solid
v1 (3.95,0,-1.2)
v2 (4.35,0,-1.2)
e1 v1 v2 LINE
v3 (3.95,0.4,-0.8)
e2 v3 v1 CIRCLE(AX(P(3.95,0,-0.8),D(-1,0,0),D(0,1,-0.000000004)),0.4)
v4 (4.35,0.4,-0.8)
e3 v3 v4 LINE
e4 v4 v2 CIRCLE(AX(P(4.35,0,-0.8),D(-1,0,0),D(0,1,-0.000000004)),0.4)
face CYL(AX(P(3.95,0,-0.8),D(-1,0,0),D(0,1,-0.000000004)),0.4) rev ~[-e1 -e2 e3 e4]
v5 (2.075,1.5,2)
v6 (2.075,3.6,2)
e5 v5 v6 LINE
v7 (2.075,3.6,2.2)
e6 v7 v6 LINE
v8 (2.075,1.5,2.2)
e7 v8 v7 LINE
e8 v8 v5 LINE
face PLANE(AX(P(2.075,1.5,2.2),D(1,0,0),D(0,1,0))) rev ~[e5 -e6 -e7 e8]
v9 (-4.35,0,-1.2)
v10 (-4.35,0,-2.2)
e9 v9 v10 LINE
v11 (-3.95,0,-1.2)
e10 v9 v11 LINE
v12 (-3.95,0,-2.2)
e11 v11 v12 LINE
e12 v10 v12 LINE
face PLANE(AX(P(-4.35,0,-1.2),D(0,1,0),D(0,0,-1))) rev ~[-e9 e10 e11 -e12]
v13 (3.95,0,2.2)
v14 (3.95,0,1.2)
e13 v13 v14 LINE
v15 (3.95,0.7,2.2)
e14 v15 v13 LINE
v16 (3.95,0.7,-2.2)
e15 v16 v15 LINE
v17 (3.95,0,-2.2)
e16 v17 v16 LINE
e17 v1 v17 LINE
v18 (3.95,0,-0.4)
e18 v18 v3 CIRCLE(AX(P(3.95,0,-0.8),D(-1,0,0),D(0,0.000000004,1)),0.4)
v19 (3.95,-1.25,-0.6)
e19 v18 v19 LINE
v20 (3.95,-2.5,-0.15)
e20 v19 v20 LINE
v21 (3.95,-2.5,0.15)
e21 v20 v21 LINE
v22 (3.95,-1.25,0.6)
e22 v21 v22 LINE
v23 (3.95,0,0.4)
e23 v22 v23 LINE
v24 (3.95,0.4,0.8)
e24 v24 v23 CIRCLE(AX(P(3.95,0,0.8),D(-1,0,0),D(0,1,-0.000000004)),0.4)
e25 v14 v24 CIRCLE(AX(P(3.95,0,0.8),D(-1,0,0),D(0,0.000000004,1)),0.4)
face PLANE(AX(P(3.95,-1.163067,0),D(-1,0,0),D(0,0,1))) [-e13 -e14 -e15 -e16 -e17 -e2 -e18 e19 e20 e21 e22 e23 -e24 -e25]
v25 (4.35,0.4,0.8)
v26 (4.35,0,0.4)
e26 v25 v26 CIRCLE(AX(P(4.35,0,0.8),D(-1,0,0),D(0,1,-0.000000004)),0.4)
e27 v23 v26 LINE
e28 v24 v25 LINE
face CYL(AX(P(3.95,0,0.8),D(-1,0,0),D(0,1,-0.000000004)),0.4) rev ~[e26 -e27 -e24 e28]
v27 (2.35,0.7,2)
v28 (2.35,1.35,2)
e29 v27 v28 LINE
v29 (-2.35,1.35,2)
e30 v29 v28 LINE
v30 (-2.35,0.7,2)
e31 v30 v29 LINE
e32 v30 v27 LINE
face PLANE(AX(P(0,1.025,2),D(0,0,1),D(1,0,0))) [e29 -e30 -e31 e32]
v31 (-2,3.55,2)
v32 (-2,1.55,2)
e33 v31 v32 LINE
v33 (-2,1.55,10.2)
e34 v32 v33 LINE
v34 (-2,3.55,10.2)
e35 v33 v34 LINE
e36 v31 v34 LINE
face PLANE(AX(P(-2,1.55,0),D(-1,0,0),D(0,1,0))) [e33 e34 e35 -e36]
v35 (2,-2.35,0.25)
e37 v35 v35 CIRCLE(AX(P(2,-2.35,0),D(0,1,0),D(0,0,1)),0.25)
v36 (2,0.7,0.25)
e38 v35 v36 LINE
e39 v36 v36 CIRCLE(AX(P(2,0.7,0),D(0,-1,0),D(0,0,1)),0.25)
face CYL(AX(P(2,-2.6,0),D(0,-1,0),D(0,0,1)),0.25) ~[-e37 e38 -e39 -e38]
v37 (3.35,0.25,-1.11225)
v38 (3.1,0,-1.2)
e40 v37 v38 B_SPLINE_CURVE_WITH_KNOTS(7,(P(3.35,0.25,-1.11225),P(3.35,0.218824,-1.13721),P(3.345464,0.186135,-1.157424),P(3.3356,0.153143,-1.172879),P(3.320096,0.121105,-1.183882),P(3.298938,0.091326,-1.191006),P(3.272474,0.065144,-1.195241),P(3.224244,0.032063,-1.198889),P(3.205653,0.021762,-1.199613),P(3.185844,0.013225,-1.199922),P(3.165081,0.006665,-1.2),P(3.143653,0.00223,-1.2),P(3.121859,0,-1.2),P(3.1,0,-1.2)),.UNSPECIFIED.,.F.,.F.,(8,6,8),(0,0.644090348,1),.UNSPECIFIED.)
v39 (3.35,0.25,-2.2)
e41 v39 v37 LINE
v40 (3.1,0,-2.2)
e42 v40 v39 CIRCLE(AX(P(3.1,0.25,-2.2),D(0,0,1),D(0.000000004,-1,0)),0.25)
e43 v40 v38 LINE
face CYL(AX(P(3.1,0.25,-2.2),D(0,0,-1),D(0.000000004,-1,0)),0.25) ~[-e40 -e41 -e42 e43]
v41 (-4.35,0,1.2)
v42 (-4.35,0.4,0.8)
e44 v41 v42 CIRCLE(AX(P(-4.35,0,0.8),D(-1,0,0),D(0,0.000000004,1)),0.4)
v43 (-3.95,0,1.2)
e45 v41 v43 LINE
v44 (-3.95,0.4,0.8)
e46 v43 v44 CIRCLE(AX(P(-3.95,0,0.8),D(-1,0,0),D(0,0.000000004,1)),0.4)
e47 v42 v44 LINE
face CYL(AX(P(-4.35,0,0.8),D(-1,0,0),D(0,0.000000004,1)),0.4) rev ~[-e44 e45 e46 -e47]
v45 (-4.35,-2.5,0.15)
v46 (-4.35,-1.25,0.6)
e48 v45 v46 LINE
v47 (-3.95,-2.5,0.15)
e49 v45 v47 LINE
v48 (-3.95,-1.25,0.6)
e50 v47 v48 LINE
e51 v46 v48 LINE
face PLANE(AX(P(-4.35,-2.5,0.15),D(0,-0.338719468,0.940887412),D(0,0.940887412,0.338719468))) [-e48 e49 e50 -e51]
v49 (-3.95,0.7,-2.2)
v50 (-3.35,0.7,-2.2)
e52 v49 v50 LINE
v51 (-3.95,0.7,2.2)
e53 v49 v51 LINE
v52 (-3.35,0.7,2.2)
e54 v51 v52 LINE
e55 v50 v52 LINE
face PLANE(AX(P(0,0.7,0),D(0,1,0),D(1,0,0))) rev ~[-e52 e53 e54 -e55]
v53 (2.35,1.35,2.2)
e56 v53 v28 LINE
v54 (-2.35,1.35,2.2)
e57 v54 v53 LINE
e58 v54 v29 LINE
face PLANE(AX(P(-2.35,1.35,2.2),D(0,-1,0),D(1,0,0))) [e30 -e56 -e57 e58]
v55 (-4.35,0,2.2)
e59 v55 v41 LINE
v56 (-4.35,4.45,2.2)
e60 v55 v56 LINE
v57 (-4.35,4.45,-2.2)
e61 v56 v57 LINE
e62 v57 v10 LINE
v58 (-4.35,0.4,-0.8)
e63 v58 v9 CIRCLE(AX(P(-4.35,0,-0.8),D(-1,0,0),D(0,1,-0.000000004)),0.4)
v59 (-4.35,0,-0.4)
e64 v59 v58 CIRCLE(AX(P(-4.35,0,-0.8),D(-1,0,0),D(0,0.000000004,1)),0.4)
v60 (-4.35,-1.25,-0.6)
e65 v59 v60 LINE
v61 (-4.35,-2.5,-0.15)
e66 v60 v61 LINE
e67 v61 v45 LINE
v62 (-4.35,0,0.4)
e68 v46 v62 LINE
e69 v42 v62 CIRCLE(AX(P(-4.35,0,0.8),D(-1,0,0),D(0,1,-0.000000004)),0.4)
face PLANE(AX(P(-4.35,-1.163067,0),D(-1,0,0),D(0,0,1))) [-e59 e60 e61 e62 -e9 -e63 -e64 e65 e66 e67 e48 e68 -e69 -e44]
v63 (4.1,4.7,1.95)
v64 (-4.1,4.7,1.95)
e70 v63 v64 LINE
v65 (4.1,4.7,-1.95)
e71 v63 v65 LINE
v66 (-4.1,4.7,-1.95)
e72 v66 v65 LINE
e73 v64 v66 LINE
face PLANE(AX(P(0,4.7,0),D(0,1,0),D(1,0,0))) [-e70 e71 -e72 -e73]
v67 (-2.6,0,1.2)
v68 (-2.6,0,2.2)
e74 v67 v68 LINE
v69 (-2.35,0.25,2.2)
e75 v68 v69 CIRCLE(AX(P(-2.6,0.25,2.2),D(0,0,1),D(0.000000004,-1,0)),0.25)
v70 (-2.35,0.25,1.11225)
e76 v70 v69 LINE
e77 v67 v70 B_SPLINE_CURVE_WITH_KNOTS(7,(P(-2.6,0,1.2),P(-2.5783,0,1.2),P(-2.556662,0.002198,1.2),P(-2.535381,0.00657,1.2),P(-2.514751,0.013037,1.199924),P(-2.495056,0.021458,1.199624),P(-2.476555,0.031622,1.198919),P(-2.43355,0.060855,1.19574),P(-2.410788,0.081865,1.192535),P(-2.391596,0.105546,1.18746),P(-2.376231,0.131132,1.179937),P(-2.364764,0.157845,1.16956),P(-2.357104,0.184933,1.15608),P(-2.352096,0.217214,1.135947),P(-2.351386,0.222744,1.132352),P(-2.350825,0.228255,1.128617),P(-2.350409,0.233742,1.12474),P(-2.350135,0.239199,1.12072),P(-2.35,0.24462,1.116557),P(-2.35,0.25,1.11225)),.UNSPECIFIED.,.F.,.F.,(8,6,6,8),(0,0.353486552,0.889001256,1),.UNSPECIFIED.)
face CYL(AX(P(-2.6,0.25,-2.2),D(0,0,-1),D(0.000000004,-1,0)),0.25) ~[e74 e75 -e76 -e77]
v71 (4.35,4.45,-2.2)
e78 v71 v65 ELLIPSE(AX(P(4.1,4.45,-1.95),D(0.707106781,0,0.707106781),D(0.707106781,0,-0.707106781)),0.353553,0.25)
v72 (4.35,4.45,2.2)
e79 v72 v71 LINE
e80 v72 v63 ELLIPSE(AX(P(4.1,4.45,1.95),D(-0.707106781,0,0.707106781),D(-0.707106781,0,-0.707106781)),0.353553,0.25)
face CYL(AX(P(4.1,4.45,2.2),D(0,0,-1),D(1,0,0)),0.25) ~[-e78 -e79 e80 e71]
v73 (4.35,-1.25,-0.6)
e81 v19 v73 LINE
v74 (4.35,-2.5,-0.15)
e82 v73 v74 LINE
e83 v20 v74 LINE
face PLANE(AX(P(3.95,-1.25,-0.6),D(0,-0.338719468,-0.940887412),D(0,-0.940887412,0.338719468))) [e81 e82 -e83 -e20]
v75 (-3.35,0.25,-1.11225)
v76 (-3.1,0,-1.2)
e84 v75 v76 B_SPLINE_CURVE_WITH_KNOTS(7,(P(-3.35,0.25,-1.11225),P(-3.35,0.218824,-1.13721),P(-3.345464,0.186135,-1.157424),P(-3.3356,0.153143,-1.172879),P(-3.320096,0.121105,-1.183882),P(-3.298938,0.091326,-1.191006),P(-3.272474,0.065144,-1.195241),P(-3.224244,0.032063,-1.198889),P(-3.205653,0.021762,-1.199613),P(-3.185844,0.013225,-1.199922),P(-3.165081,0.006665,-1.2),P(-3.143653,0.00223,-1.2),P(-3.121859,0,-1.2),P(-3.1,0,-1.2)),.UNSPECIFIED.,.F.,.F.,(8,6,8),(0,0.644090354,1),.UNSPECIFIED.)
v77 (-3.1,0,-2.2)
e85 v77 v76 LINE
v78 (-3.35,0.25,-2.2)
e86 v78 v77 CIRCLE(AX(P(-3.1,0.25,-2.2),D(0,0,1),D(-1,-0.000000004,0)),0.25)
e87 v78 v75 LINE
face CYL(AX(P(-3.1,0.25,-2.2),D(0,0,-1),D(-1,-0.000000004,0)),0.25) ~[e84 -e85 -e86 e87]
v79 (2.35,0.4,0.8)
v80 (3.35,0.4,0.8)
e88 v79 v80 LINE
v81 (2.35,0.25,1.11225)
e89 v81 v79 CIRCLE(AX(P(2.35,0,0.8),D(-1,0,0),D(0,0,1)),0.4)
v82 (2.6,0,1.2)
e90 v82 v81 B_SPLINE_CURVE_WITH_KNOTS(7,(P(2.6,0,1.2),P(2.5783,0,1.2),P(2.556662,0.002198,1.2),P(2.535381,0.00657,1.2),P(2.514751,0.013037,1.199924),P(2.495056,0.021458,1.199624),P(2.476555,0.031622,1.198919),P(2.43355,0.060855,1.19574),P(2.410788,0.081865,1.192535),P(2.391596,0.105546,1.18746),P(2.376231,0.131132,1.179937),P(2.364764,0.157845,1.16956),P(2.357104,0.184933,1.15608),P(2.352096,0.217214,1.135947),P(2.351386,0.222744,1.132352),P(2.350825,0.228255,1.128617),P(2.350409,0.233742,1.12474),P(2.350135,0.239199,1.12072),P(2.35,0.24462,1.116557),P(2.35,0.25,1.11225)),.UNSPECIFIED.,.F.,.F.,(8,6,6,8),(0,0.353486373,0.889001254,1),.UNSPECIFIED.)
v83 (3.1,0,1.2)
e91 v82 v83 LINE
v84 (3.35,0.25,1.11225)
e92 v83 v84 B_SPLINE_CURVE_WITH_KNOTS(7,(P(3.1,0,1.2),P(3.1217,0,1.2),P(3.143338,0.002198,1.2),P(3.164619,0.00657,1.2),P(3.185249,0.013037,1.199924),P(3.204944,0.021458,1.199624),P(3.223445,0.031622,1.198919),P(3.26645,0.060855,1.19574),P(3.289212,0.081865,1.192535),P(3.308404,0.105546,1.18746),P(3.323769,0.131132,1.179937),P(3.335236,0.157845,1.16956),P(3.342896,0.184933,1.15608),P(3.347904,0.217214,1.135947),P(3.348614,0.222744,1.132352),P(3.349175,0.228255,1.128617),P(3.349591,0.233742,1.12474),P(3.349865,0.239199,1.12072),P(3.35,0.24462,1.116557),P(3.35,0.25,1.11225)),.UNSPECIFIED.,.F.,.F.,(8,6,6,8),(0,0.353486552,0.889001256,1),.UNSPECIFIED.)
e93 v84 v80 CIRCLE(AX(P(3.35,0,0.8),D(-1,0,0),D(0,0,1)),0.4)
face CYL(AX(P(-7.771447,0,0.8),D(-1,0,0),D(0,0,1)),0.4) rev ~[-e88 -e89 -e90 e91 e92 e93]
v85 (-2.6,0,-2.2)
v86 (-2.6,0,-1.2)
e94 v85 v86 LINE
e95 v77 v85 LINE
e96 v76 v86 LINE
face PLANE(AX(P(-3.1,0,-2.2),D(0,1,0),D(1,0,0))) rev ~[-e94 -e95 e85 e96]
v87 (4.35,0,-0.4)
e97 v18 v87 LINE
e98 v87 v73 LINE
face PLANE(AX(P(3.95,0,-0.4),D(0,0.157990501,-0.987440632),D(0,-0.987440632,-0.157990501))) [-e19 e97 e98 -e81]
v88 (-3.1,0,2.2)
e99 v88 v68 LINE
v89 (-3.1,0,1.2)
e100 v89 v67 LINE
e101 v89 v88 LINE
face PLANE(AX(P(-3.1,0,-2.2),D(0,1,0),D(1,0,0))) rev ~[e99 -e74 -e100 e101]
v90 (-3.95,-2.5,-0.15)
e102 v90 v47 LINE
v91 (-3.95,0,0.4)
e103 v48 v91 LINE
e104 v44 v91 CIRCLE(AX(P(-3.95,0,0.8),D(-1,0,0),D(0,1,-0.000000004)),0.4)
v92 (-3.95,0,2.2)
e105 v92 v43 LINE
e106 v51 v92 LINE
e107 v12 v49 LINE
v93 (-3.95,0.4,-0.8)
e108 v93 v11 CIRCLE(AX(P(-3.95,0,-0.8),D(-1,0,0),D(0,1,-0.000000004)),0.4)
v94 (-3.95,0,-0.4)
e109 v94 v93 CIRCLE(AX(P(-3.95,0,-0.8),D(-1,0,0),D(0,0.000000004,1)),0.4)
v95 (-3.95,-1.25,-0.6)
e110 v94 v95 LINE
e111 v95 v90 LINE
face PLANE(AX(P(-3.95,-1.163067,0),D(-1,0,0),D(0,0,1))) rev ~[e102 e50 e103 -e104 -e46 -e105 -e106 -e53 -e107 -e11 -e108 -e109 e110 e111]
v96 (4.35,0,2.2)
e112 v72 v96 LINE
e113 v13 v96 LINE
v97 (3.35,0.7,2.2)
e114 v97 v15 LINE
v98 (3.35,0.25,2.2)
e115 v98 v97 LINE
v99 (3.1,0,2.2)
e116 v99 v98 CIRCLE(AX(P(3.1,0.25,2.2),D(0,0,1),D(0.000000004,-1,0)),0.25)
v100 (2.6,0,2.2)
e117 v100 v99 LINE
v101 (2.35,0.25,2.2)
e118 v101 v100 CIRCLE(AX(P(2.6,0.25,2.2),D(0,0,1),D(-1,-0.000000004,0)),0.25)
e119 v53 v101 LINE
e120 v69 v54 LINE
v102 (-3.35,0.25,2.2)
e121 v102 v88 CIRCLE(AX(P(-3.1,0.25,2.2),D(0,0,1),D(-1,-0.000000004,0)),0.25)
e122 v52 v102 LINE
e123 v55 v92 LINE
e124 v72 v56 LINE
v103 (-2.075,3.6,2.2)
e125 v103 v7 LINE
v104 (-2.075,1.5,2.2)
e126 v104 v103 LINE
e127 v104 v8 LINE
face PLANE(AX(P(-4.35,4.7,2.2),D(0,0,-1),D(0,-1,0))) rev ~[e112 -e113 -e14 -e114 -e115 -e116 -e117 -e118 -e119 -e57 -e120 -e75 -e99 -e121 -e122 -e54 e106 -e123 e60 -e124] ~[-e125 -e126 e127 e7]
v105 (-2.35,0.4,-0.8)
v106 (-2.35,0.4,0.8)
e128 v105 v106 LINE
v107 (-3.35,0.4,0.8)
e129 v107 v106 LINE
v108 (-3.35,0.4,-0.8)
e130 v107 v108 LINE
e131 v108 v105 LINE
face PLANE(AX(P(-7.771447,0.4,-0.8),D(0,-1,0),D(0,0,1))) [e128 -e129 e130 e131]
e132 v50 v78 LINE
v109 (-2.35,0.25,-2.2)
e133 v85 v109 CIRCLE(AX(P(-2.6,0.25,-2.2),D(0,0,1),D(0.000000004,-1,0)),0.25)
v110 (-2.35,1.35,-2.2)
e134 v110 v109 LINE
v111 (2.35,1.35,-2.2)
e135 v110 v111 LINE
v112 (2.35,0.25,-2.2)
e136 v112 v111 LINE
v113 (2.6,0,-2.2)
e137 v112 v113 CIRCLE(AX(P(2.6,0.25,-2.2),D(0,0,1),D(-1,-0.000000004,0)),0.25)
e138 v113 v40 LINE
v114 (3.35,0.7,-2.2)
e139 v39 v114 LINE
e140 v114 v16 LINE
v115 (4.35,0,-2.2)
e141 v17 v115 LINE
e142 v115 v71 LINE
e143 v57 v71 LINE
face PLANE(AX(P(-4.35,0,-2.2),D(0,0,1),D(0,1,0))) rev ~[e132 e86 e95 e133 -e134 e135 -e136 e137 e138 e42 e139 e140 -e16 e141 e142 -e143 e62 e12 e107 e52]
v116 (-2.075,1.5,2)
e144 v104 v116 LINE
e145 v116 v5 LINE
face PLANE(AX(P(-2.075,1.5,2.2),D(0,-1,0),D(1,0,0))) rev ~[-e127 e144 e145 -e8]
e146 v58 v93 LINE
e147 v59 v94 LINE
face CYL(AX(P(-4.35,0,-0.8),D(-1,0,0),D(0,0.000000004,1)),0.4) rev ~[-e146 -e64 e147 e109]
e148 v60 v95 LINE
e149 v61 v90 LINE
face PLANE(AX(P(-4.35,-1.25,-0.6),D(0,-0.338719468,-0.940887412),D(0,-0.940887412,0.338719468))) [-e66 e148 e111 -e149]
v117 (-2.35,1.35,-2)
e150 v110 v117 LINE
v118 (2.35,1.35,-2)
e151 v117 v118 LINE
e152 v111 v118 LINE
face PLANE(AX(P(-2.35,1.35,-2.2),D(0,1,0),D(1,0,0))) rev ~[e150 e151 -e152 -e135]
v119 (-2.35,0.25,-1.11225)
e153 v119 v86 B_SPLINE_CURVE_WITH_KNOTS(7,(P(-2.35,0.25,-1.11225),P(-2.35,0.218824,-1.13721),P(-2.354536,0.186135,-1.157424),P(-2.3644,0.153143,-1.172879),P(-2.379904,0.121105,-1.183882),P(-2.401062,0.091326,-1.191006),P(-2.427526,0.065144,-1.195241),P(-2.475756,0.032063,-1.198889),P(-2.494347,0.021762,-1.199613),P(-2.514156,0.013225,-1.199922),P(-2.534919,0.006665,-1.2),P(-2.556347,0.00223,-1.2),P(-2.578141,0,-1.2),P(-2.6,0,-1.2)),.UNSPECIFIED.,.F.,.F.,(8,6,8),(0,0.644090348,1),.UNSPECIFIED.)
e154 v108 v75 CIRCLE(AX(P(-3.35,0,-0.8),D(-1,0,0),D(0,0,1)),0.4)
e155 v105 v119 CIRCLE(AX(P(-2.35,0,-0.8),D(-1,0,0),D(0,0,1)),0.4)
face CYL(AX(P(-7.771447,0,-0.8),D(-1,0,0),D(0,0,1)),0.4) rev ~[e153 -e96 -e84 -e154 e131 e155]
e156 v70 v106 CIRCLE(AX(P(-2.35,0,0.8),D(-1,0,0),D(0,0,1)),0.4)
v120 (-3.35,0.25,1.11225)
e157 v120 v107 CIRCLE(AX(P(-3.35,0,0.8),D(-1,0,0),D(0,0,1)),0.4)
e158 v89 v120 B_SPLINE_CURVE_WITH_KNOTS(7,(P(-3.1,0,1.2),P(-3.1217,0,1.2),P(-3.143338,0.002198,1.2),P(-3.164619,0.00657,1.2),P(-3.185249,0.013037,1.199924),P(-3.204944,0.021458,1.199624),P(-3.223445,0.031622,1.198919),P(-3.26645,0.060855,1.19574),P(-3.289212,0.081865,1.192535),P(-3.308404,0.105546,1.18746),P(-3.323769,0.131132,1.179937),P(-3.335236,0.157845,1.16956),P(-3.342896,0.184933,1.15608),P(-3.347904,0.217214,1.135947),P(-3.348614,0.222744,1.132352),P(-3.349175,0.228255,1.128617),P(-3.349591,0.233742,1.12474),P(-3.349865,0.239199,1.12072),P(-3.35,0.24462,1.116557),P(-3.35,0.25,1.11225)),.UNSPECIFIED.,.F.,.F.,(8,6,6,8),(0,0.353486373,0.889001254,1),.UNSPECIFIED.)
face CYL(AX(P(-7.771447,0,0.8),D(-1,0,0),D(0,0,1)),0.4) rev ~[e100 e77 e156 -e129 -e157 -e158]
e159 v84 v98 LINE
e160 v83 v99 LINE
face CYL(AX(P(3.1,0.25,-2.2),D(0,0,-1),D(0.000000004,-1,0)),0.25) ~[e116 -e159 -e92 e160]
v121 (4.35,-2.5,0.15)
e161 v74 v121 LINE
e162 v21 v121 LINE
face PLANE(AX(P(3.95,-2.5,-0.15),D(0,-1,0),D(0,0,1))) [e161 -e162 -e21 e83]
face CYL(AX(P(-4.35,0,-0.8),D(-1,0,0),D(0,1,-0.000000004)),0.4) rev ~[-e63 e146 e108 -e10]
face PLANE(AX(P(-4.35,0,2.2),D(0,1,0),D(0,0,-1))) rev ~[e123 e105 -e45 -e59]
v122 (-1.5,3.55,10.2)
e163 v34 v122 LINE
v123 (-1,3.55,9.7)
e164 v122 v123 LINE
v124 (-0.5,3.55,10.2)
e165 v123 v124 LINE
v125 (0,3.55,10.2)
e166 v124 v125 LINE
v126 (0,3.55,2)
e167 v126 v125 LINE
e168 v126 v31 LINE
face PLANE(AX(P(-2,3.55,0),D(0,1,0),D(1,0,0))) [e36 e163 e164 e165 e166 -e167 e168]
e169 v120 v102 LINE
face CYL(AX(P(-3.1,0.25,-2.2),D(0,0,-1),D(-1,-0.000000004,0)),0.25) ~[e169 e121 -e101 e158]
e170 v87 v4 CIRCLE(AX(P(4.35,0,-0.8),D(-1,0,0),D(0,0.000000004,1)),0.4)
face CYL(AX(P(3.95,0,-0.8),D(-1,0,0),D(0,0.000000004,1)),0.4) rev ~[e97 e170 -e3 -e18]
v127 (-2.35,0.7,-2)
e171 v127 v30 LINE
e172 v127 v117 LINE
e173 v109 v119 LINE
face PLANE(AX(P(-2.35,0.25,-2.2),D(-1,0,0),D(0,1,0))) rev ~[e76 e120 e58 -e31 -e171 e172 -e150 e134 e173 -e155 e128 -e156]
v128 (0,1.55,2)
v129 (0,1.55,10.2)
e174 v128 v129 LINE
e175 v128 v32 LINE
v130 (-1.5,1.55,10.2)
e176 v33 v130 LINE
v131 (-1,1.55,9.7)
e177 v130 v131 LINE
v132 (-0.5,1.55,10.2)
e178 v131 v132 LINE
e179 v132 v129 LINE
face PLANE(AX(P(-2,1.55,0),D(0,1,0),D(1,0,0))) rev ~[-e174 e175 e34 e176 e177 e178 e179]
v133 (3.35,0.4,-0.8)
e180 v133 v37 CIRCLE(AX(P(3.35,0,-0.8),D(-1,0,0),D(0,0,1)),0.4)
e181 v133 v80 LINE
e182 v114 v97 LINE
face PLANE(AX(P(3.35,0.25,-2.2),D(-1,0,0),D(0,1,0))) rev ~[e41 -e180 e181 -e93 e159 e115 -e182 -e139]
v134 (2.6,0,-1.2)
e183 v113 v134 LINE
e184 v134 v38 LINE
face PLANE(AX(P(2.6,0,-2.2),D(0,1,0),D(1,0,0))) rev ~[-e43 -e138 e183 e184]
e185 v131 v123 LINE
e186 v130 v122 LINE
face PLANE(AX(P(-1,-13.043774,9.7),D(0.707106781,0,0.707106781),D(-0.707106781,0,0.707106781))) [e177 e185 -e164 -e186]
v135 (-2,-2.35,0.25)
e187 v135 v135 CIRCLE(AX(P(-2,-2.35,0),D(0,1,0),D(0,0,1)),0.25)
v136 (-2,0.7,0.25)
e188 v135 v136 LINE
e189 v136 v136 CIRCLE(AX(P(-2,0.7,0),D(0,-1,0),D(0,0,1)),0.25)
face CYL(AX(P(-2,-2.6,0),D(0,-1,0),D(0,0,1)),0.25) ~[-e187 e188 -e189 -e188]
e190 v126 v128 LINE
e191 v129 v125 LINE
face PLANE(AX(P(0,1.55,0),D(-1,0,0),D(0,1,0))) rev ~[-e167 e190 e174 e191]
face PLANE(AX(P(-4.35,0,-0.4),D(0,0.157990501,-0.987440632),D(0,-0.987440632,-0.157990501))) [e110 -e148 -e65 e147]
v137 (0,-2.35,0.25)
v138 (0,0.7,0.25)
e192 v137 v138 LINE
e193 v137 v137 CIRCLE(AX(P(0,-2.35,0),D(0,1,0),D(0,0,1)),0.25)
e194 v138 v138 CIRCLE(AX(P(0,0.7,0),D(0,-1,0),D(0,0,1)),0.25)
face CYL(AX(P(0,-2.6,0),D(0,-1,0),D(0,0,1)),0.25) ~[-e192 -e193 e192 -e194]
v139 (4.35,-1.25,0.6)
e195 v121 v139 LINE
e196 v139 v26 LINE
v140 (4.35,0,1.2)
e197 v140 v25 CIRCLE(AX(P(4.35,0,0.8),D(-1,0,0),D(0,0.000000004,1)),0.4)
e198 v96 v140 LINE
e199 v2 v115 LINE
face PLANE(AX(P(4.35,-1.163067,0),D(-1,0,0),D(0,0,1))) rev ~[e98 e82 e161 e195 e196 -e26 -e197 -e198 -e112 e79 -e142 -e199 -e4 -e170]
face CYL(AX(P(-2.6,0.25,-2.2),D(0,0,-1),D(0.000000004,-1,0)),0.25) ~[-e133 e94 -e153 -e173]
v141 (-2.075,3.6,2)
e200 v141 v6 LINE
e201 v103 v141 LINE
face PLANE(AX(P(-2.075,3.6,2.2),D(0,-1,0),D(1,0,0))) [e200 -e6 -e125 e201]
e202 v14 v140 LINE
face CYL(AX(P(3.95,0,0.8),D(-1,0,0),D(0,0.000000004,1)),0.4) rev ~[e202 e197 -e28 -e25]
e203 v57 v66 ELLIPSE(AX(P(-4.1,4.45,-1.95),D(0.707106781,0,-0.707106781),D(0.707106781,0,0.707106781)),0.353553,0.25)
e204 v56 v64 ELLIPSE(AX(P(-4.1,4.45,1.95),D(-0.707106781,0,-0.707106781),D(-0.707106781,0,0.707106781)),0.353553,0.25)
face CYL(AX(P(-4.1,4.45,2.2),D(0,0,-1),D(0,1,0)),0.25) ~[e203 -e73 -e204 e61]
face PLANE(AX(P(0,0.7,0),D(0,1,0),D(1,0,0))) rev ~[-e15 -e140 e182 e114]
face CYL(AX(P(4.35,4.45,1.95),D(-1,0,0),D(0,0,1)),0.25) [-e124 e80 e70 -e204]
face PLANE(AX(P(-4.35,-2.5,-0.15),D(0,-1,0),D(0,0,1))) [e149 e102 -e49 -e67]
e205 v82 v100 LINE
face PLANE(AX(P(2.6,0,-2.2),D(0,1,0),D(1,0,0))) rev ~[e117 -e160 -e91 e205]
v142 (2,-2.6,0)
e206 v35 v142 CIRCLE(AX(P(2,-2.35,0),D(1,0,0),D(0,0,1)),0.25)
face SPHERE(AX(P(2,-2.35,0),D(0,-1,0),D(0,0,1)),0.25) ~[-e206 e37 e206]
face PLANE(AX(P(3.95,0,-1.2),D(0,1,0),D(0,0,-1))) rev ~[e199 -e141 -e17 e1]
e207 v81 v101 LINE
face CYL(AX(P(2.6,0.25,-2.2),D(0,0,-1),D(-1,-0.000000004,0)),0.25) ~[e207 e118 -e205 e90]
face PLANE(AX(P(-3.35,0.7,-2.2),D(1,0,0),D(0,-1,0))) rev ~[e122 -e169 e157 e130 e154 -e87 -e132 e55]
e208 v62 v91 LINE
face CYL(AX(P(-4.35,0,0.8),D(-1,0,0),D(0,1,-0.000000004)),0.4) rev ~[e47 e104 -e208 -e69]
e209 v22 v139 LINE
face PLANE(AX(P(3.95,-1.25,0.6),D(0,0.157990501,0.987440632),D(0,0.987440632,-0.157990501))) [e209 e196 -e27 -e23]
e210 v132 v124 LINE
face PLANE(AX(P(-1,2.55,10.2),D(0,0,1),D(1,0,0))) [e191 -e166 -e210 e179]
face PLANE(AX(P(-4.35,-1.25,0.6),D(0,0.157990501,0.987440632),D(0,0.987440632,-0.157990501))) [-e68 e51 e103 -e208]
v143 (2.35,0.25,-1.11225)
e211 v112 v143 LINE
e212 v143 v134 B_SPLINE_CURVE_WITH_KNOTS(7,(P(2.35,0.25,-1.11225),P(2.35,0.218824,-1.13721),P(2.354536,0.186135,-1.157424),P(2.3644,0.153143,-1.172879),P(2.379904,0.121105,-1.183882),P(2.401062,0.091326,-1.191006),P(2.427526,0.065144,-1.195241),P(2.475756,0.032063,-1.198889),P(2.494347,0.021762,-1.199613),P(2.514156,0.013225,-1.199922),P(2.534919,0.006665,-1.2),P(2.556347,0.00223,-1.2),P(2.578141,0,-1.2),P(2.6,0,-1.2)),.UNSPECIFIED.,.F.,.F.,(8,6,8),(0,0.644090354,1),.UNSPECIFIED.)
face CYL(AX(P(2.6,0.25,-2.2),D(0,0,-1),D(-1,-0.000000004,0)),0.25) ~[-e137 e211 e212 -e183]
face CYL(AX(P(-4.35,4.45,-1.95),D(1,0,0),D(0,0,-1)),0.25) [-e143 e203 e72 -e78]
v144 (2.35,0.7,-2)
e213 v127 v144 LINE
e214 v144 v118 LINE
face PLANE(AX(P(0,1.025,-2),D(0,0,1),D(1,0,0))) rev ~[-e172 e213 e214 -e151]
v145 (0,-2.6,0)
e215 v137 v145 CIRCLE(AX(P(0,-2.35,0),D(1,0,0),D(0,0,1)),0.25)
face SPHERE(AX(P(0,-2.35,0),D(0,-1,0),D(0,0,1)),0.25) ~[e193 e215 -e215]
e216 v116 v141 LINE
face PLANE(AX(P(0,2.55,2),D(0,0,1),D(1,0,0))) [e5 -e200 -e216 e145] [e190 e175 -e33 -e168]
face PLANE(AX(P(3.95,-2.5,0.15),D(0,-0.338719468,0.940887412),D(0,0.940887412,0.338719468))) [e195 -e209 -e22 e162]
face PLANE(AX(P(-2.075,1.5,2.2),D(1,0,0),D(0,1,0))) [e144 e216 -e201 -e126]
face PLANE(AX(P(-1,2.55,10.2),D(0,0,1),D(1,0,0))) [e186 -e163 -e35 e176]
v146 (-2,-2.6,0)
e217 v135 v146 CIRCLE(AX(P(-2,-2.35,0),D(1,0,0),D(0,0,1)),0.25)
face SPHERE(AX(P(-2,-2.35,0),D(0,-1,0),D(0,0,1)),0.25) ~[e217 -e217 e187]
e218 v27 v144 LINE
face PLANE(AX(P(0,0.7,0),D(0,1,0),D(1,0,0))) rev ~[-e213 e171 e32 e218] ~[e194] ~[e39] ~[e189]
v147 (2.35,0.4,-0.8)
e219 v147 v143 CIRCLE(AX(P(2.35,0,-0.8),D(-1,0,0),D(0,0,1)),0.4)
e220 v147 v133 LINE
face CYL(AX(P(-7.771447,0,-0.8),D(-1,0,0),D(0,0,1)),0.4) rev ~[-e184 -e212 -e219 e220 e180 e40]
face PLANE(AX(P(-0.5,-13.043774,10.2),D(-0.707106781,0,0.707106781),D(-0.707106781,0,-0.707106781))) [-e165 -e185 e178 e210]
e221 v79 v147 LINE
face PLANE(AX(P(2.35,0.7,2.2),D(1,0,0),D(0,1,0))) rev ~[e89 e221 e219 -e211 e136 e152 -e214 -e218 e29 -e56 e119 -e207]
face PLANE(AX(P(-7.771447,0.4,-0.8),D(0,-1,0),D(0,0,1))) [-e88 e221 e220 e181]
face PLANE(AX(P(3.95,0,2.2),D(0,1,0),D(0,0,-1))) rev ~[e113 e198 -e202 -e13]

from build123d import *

# Parameters (mm, degrees)
BASE_START                 = 0.7
TOP_PROFILE_W              = 8.7
TOP_PROFILE_H              = 4.4
BASE_DEPTH                 = 4
BASE_START_2               = -2.2
BASE_EXTRUDE_DEPTH         = 4.4
BOTTOM_START               = 2.2
FRONT_PROFILE_4_W          = 4.7
FRONT_PROFILE_4_H          = 0.65
BOTTOM_FRONT_CUTOUT_DEPTH  = 0.2
BOTTOM_START_2             = -2.2
FRONT_PROFILE_5_W          = 4.7
FRONT_PROFILE_5_H          = 0.65
BOTTOM_REAR_CUTOUT_DEPTH   = 0.2
SWITCH_START               = 2.2
FRONT_PROFILE_6_W          = 4.15
FRONT_PROFILE_6_H          = 2.1
FRONT_PROFILE_6_W_2        = 2
FRONT_PROFILE_6_H_2        = 2
SWITCH_INSET_DEPTH         = 0.2
UNDERCUT_NOTCH_DEPTH       = 7.771447408
UNDERCUT_NOTCH_DEPTH_BACK  = 7.771447408
LEVER_DEPTH                = 8
LEVER_DEPTH_BACK           = 2.2
LEVER_START                = 2.2
FRONT_PROFILE_7_W          = 2
FRONT_PROFILE_7_H          = 2
RIGHT_START                = 3.95
RIGHT_PIN_DEPTH            = 0.4
LEFT_START                 = -4.35
LEFT_PIN_DEPTH             = 0.4
ELECTRICAL_PINS_DEPTH      = 4.7
ELECTRICAL_PINS_DEPTH_BACK = 2.6
PINS_R                     = 0.25
LEVER_NOTCH_DEPTH          = 13.043774325
LEVER_NOTCH_DEPTH_BACK     = 13.043774325
TOP_FILLET_R               = 0.25
PIN_FILLET_R               = 0.25


with BuildPart() as part:
    # Top Profile → Base (new body)
    with BuildSketch(Plane(origin=(0, 0, 0), x_dir=(1, 0, 0), z_dir=(0, 1, 0)).offset(BASE_START)):
        Rectangle(TOP_PROFILE_W, TOP_PROFILE_H)
    extrude(amount=BASE_DEPTH)

    # Front Profile → Base Extrude (add)
    with BuildSketch(Plane.XY.offset(BASE_START_2)):
        with BuildLine():
            Line((4.35, 0.7), (4.35, 4.7))
            Line((4.35, 4.7), (-4.35, 4.7))
            Line((-4.35, 4.7), (-4.35, 0.7))
            Line((-4.35, 0.7), (-3.35, 0.7))
            Line((-3.35, 0.7), (-3.35, 0.25))
            ThreePointArc((-3.35, 0.25), (-3.276776695, 0.073223305), (-3.1, 0))
            Line((-3.1, 0), (-2.6, 0))
            ThreePointArc((-2.6, 0), (-2.423223305, 0.073223305), (-2.35, 0.25))
            Line((-2.35, 0.25), (-2.35, 0.7))
            Line((-2.35, 0.7), (-2.35, 1.35))
            Line((-2.35, 1.35), (2.35, 1.35))
            Line((2.35, 1.35), (2.35, 0.7))
            Line((2.35, 0.7), (2.35, 0.25))
            ThreePointArc((2.35, 0.25), (2.423223305, 0.073223305), (2.6, 0))
            Line((2.6, 0), (3.1, 0))
            ThreePointArc((3.1, 0), (3.276776695, 0.073223305), (3.35, 0.25))
            Line((3.35, 0.25), (3.35, 0.7))
            Line((3.35, 0.7), (4.35, 0.7))
        make_face()
    extrude(amount=BASE_EXTRUDE_DEPTH)

    # Front Profile<4> → Bottom Front Cutout (cut)
    with BuildSketch(Plane.XY.offset(BOTTOM_START)):
        with Locations((0, 1.025)):
            Rectangle(FRONT_PROFILE_4_W, FRONT_PROFILE_4_H)
    extrude(amount=-BOTTOM_FRONT_CUTOUT_DEPTH, mode=Mode.SUBTRACT)

    # Front Profile<5> → Bottom Rear Cutout (cut)
    with BuildSketch(Plane.XY.offset(BOTTOM_START_2)):
        with Locations((0, 1.025)):
            Rectangle(FRONT_PROFILE_5_W, FRONT_PROFILE_5_H)
    extrude(amount=BOTTOM_REAR_CUTOUT_DEPTH, mode=Mode.SUBTRACT)

    # Front Profile<6> → Switch Inset (cut)
    # profile 1 of 2: a face of its own
    with BuildSketch(Plane.XY.offset(SWITCH_START)):
        with Locations((0, 2.55)):
            Rectangle(FRONT_PROFILE_6_W, FRONT_PROFILE_6_H)
        with Locations((-1, 2.55)):
            Rectangle(FRONT_PROFILE_6_W_2, FRONT_PROFILE_6_H_2, mode=Mode.SUBTRACT)
    # profile 2 of 2: a face of its own
    with BuildSketch(Plane.XY.offset(SWITCH_START)):
        with Locations((-1, 2.55)):
            Rectangle(FRONT_PROFILE_6_W_2, FRONT_PROFILE_6_H_2)
    extrude(amount=-SWITCH_INSET_DEPTH, mode=Mode.SUBTRACT)

    # Side Profile → Undercut Notch (cut, two sides: drawn at the far end of the back side and taken through both)
    with BuildSketch(Plane(origin=(0, 0, 0), x_dir=(0, 0, -1), z_dir=(1, 0, 0)).offset(-UNDERCUT_NOTCH_DEPTH_BACK)):
        with BuildLine():
            ThreePointArc((-1.2, 0), (-0.8, 0.4), (-0.4, 0))
            Line((-0.4, 0), (-1.2, 0))
        make_face()
        with BuildLine():
            ThreePointArc((0.4, 0), (0.8, 0.4), (1.2, 0))
            Line((1.2, 0), (0.4, 0))
        make_face()
        with BuildLine():
            ThreePointArc((-0.8, 0.4), (-0.517157288, 0.282842712), (-0.4, 0))
            Line((-0.4, 0), (0.4, 0))
            ThreePointArc((0.4, 0), (0.517157288, 0.282842712), (0.8, 0.4))
            Line((0.8, 0.4), (-0.8, 0.4))
        make_face()
    extrude(amount=UNDERCUT_NOTCH_DEPTH + UNDERCUT_NOTCH_DEPTH_BACK, mode=Mode.SUBTRACT)

    # Front Profile<7> → Lever (add, two sides: drawn at the far end of the back side and taken through both)
    with BuildSketch(Plane.XY.offset(LEVER_START - LEVER_DEPTH_BACK)):
        with Locations((-1, 2.55)):
            Rectangle(FRONT_PROFILE_7_W, FRONT_PROFILE_7_H)
    extrude(amount=LEVER_DEPTH + LEVER_DEPTH_BACK)

    # Side Profile<5> → Right Pin (add)
    with BuildSketch(Plane(origin=(0, 0, 0), x_dir=(0, 0, -1), z_dir=(1, 0, 0)).offset(RIGHT_START)):
        Polygon((-0.4, 0), (0.4, 0), (0.6, -1.25), (0.15, -2.5), (-0.15, -2.5), (-0.6, -1.25), align=None)
        with BuildLine():
            ThreePointArc((-0.8, 0.4), (-0.517157288, 0.282842712), (-0.4, 0))
            Line((-0.4, 0), (0.4, 0))
            ThreePointArc((0.4, 0), (0.517157288, 0.282842712), (0.8, 0.4))
            Line((0.8, 0.4), (-0.8, 0.4))
        make_face()
        with BuildLine():
            Line((2.2, 4.7), (-2.2, 4.7))
            Line((-2.2, 4.7), (-2.2, 0.7))
            Line((-2.2, 0.7), (-2.2, 0))
            Line((-2.2, 0), (-1.2, 0))
            ThreePointArc((-1.2, 0), (-1.082842712, 0.282842712), (-0.8, 0.4))
            Line((-0.8, 0.4), (0.8, 0.4))
            ThreePointArc((0.8, 0.4), (1.082842712, 0.282842712), (1.2, 0))
            Line((1.2, 0), (2.2, 0))
            Line((2.2, 0), (2.2, 0.7))
            Line((2.2, 0.7), (2.2, 4.7))
        make_face()
    extrude(amount=RIGHT_PIN_DEPTH)

    # Side Profile<6> → Left Pin (add)
    with BuildSketch(Plane(origin=(0, 0, 0), x_dir=(0, 0, -1), z_dir=(1, 0, 0)).offset(LEFT_START)):
        Polygon((-0.4, 0), (0.4, 0), (0.6, -1.25), (0.15, -2.5), (-0.15, -2.5), (-0.6, -1.25), align=None)
        with BuildLine():
            ThreePointArc((-0.8, 0.4), (-0.517157288, 0.282842712), (-0.4, 0))
            Line((-0.4, 0), (0.4, 0))
            ThreePointArc((0.4, 0), (0.517157288, 0.282842712), (0.8, 0.4))
            Line((0.8, 0.4), (-0.8, 0.4))
        make_face()
        with BuildLine():
            Line((2.2, 4.7), (-2.2, 4.7))
            Line((-2.2, 4.7), (-2.2, 0.7))
            Line((-2.2, 0.7), (-2.2, 0))
            Line((-2.2, 0), (-1.2, 0))
            ThreePointArc((-1.2, 0), (-1.082842712, 0.282842712), (-0.8, 0.4))
            Line((-0.8, 0.4), (0.8, 0.4))
            ThreePointArc((0.8, 0.4), (1.082842712, 0.282842712), (1.2, 0))
            Line((1.2, 0), (2.2, 0))
            Line((2.2, 0), (2.2, 0.7))
            Line((2.2, 0.7), (2.2, 4.7))
        make_face()
    extrude(amount=LEFT_PIN_DEPTH)

    # Pins → Electrical Pins (add, two sides: drawn at the far end of the back side and taken through both)
    with BuildSketch(Plane(origin=(0, 0, 0), x_dir=(1, 0, 0), z_dir=(0, 1, 0)).offset(-ELECTRICAL_PINS_DEPTH_BACK)):
        with Locations(Location((-2, 0, 0), (0, 0, 270))):
            Circle(PINS_R)
        with Locations(Location((0, 0, 0), (0, 0, 270))):
            Circle(PINS_R)
        with Locations(Location((2, 0, 0), (0, 0, 270))):
            Circle(PINS_R)
    extrude(amount=ELECTRICAL_PINS_DEPTH + ELECTRICAL_PINS_DEPTH_BACK)

    # Lever Notch Profile → Lever Notch (cut, two sides: drawn at the far end of the back side and taken through both)
    with BuildSketch(Plane(origin=(0, 0, 0), x_dir=(1, 0, 0), z_dir=(0, 1, 0)).offset(-LEVER_NOTCH_DEPTH_BACK)):
        Polygon((-1.5, -10.2), (-0.5, -10.2), (-1, -9.7), align=None)
    extrude(amount=LEVER_NOTCH_DEPTH + LEVER_NOTCH_DEPTH_BACK, mode=Mode.SUBTRACT)

    # Top Fillet
    top_fillet_edges = [part.edges().sort_by_distance(p)[0] for p in [
        (0, 4.7, 2.2),
        (4.35, 4.7, 0),
        (0, 4.7, -2.2),
        (-4.35, 4.7, 0),
    ]]
    fillet(top_fillet_edges, radius=TOP_FILLET_R)

    # Pin Fillet
    pin_fillet_edges = [part.edges().sort_by_distance(p)[0] for p in [
        (-2, -2.6, -0.25),
        (0, -2.6, -0.25),
        (2, -2.6, -0.25),
    ]]
    fillet(pin_fillet_edges, radius=PIN_FILLET_R)


solid = part.part
